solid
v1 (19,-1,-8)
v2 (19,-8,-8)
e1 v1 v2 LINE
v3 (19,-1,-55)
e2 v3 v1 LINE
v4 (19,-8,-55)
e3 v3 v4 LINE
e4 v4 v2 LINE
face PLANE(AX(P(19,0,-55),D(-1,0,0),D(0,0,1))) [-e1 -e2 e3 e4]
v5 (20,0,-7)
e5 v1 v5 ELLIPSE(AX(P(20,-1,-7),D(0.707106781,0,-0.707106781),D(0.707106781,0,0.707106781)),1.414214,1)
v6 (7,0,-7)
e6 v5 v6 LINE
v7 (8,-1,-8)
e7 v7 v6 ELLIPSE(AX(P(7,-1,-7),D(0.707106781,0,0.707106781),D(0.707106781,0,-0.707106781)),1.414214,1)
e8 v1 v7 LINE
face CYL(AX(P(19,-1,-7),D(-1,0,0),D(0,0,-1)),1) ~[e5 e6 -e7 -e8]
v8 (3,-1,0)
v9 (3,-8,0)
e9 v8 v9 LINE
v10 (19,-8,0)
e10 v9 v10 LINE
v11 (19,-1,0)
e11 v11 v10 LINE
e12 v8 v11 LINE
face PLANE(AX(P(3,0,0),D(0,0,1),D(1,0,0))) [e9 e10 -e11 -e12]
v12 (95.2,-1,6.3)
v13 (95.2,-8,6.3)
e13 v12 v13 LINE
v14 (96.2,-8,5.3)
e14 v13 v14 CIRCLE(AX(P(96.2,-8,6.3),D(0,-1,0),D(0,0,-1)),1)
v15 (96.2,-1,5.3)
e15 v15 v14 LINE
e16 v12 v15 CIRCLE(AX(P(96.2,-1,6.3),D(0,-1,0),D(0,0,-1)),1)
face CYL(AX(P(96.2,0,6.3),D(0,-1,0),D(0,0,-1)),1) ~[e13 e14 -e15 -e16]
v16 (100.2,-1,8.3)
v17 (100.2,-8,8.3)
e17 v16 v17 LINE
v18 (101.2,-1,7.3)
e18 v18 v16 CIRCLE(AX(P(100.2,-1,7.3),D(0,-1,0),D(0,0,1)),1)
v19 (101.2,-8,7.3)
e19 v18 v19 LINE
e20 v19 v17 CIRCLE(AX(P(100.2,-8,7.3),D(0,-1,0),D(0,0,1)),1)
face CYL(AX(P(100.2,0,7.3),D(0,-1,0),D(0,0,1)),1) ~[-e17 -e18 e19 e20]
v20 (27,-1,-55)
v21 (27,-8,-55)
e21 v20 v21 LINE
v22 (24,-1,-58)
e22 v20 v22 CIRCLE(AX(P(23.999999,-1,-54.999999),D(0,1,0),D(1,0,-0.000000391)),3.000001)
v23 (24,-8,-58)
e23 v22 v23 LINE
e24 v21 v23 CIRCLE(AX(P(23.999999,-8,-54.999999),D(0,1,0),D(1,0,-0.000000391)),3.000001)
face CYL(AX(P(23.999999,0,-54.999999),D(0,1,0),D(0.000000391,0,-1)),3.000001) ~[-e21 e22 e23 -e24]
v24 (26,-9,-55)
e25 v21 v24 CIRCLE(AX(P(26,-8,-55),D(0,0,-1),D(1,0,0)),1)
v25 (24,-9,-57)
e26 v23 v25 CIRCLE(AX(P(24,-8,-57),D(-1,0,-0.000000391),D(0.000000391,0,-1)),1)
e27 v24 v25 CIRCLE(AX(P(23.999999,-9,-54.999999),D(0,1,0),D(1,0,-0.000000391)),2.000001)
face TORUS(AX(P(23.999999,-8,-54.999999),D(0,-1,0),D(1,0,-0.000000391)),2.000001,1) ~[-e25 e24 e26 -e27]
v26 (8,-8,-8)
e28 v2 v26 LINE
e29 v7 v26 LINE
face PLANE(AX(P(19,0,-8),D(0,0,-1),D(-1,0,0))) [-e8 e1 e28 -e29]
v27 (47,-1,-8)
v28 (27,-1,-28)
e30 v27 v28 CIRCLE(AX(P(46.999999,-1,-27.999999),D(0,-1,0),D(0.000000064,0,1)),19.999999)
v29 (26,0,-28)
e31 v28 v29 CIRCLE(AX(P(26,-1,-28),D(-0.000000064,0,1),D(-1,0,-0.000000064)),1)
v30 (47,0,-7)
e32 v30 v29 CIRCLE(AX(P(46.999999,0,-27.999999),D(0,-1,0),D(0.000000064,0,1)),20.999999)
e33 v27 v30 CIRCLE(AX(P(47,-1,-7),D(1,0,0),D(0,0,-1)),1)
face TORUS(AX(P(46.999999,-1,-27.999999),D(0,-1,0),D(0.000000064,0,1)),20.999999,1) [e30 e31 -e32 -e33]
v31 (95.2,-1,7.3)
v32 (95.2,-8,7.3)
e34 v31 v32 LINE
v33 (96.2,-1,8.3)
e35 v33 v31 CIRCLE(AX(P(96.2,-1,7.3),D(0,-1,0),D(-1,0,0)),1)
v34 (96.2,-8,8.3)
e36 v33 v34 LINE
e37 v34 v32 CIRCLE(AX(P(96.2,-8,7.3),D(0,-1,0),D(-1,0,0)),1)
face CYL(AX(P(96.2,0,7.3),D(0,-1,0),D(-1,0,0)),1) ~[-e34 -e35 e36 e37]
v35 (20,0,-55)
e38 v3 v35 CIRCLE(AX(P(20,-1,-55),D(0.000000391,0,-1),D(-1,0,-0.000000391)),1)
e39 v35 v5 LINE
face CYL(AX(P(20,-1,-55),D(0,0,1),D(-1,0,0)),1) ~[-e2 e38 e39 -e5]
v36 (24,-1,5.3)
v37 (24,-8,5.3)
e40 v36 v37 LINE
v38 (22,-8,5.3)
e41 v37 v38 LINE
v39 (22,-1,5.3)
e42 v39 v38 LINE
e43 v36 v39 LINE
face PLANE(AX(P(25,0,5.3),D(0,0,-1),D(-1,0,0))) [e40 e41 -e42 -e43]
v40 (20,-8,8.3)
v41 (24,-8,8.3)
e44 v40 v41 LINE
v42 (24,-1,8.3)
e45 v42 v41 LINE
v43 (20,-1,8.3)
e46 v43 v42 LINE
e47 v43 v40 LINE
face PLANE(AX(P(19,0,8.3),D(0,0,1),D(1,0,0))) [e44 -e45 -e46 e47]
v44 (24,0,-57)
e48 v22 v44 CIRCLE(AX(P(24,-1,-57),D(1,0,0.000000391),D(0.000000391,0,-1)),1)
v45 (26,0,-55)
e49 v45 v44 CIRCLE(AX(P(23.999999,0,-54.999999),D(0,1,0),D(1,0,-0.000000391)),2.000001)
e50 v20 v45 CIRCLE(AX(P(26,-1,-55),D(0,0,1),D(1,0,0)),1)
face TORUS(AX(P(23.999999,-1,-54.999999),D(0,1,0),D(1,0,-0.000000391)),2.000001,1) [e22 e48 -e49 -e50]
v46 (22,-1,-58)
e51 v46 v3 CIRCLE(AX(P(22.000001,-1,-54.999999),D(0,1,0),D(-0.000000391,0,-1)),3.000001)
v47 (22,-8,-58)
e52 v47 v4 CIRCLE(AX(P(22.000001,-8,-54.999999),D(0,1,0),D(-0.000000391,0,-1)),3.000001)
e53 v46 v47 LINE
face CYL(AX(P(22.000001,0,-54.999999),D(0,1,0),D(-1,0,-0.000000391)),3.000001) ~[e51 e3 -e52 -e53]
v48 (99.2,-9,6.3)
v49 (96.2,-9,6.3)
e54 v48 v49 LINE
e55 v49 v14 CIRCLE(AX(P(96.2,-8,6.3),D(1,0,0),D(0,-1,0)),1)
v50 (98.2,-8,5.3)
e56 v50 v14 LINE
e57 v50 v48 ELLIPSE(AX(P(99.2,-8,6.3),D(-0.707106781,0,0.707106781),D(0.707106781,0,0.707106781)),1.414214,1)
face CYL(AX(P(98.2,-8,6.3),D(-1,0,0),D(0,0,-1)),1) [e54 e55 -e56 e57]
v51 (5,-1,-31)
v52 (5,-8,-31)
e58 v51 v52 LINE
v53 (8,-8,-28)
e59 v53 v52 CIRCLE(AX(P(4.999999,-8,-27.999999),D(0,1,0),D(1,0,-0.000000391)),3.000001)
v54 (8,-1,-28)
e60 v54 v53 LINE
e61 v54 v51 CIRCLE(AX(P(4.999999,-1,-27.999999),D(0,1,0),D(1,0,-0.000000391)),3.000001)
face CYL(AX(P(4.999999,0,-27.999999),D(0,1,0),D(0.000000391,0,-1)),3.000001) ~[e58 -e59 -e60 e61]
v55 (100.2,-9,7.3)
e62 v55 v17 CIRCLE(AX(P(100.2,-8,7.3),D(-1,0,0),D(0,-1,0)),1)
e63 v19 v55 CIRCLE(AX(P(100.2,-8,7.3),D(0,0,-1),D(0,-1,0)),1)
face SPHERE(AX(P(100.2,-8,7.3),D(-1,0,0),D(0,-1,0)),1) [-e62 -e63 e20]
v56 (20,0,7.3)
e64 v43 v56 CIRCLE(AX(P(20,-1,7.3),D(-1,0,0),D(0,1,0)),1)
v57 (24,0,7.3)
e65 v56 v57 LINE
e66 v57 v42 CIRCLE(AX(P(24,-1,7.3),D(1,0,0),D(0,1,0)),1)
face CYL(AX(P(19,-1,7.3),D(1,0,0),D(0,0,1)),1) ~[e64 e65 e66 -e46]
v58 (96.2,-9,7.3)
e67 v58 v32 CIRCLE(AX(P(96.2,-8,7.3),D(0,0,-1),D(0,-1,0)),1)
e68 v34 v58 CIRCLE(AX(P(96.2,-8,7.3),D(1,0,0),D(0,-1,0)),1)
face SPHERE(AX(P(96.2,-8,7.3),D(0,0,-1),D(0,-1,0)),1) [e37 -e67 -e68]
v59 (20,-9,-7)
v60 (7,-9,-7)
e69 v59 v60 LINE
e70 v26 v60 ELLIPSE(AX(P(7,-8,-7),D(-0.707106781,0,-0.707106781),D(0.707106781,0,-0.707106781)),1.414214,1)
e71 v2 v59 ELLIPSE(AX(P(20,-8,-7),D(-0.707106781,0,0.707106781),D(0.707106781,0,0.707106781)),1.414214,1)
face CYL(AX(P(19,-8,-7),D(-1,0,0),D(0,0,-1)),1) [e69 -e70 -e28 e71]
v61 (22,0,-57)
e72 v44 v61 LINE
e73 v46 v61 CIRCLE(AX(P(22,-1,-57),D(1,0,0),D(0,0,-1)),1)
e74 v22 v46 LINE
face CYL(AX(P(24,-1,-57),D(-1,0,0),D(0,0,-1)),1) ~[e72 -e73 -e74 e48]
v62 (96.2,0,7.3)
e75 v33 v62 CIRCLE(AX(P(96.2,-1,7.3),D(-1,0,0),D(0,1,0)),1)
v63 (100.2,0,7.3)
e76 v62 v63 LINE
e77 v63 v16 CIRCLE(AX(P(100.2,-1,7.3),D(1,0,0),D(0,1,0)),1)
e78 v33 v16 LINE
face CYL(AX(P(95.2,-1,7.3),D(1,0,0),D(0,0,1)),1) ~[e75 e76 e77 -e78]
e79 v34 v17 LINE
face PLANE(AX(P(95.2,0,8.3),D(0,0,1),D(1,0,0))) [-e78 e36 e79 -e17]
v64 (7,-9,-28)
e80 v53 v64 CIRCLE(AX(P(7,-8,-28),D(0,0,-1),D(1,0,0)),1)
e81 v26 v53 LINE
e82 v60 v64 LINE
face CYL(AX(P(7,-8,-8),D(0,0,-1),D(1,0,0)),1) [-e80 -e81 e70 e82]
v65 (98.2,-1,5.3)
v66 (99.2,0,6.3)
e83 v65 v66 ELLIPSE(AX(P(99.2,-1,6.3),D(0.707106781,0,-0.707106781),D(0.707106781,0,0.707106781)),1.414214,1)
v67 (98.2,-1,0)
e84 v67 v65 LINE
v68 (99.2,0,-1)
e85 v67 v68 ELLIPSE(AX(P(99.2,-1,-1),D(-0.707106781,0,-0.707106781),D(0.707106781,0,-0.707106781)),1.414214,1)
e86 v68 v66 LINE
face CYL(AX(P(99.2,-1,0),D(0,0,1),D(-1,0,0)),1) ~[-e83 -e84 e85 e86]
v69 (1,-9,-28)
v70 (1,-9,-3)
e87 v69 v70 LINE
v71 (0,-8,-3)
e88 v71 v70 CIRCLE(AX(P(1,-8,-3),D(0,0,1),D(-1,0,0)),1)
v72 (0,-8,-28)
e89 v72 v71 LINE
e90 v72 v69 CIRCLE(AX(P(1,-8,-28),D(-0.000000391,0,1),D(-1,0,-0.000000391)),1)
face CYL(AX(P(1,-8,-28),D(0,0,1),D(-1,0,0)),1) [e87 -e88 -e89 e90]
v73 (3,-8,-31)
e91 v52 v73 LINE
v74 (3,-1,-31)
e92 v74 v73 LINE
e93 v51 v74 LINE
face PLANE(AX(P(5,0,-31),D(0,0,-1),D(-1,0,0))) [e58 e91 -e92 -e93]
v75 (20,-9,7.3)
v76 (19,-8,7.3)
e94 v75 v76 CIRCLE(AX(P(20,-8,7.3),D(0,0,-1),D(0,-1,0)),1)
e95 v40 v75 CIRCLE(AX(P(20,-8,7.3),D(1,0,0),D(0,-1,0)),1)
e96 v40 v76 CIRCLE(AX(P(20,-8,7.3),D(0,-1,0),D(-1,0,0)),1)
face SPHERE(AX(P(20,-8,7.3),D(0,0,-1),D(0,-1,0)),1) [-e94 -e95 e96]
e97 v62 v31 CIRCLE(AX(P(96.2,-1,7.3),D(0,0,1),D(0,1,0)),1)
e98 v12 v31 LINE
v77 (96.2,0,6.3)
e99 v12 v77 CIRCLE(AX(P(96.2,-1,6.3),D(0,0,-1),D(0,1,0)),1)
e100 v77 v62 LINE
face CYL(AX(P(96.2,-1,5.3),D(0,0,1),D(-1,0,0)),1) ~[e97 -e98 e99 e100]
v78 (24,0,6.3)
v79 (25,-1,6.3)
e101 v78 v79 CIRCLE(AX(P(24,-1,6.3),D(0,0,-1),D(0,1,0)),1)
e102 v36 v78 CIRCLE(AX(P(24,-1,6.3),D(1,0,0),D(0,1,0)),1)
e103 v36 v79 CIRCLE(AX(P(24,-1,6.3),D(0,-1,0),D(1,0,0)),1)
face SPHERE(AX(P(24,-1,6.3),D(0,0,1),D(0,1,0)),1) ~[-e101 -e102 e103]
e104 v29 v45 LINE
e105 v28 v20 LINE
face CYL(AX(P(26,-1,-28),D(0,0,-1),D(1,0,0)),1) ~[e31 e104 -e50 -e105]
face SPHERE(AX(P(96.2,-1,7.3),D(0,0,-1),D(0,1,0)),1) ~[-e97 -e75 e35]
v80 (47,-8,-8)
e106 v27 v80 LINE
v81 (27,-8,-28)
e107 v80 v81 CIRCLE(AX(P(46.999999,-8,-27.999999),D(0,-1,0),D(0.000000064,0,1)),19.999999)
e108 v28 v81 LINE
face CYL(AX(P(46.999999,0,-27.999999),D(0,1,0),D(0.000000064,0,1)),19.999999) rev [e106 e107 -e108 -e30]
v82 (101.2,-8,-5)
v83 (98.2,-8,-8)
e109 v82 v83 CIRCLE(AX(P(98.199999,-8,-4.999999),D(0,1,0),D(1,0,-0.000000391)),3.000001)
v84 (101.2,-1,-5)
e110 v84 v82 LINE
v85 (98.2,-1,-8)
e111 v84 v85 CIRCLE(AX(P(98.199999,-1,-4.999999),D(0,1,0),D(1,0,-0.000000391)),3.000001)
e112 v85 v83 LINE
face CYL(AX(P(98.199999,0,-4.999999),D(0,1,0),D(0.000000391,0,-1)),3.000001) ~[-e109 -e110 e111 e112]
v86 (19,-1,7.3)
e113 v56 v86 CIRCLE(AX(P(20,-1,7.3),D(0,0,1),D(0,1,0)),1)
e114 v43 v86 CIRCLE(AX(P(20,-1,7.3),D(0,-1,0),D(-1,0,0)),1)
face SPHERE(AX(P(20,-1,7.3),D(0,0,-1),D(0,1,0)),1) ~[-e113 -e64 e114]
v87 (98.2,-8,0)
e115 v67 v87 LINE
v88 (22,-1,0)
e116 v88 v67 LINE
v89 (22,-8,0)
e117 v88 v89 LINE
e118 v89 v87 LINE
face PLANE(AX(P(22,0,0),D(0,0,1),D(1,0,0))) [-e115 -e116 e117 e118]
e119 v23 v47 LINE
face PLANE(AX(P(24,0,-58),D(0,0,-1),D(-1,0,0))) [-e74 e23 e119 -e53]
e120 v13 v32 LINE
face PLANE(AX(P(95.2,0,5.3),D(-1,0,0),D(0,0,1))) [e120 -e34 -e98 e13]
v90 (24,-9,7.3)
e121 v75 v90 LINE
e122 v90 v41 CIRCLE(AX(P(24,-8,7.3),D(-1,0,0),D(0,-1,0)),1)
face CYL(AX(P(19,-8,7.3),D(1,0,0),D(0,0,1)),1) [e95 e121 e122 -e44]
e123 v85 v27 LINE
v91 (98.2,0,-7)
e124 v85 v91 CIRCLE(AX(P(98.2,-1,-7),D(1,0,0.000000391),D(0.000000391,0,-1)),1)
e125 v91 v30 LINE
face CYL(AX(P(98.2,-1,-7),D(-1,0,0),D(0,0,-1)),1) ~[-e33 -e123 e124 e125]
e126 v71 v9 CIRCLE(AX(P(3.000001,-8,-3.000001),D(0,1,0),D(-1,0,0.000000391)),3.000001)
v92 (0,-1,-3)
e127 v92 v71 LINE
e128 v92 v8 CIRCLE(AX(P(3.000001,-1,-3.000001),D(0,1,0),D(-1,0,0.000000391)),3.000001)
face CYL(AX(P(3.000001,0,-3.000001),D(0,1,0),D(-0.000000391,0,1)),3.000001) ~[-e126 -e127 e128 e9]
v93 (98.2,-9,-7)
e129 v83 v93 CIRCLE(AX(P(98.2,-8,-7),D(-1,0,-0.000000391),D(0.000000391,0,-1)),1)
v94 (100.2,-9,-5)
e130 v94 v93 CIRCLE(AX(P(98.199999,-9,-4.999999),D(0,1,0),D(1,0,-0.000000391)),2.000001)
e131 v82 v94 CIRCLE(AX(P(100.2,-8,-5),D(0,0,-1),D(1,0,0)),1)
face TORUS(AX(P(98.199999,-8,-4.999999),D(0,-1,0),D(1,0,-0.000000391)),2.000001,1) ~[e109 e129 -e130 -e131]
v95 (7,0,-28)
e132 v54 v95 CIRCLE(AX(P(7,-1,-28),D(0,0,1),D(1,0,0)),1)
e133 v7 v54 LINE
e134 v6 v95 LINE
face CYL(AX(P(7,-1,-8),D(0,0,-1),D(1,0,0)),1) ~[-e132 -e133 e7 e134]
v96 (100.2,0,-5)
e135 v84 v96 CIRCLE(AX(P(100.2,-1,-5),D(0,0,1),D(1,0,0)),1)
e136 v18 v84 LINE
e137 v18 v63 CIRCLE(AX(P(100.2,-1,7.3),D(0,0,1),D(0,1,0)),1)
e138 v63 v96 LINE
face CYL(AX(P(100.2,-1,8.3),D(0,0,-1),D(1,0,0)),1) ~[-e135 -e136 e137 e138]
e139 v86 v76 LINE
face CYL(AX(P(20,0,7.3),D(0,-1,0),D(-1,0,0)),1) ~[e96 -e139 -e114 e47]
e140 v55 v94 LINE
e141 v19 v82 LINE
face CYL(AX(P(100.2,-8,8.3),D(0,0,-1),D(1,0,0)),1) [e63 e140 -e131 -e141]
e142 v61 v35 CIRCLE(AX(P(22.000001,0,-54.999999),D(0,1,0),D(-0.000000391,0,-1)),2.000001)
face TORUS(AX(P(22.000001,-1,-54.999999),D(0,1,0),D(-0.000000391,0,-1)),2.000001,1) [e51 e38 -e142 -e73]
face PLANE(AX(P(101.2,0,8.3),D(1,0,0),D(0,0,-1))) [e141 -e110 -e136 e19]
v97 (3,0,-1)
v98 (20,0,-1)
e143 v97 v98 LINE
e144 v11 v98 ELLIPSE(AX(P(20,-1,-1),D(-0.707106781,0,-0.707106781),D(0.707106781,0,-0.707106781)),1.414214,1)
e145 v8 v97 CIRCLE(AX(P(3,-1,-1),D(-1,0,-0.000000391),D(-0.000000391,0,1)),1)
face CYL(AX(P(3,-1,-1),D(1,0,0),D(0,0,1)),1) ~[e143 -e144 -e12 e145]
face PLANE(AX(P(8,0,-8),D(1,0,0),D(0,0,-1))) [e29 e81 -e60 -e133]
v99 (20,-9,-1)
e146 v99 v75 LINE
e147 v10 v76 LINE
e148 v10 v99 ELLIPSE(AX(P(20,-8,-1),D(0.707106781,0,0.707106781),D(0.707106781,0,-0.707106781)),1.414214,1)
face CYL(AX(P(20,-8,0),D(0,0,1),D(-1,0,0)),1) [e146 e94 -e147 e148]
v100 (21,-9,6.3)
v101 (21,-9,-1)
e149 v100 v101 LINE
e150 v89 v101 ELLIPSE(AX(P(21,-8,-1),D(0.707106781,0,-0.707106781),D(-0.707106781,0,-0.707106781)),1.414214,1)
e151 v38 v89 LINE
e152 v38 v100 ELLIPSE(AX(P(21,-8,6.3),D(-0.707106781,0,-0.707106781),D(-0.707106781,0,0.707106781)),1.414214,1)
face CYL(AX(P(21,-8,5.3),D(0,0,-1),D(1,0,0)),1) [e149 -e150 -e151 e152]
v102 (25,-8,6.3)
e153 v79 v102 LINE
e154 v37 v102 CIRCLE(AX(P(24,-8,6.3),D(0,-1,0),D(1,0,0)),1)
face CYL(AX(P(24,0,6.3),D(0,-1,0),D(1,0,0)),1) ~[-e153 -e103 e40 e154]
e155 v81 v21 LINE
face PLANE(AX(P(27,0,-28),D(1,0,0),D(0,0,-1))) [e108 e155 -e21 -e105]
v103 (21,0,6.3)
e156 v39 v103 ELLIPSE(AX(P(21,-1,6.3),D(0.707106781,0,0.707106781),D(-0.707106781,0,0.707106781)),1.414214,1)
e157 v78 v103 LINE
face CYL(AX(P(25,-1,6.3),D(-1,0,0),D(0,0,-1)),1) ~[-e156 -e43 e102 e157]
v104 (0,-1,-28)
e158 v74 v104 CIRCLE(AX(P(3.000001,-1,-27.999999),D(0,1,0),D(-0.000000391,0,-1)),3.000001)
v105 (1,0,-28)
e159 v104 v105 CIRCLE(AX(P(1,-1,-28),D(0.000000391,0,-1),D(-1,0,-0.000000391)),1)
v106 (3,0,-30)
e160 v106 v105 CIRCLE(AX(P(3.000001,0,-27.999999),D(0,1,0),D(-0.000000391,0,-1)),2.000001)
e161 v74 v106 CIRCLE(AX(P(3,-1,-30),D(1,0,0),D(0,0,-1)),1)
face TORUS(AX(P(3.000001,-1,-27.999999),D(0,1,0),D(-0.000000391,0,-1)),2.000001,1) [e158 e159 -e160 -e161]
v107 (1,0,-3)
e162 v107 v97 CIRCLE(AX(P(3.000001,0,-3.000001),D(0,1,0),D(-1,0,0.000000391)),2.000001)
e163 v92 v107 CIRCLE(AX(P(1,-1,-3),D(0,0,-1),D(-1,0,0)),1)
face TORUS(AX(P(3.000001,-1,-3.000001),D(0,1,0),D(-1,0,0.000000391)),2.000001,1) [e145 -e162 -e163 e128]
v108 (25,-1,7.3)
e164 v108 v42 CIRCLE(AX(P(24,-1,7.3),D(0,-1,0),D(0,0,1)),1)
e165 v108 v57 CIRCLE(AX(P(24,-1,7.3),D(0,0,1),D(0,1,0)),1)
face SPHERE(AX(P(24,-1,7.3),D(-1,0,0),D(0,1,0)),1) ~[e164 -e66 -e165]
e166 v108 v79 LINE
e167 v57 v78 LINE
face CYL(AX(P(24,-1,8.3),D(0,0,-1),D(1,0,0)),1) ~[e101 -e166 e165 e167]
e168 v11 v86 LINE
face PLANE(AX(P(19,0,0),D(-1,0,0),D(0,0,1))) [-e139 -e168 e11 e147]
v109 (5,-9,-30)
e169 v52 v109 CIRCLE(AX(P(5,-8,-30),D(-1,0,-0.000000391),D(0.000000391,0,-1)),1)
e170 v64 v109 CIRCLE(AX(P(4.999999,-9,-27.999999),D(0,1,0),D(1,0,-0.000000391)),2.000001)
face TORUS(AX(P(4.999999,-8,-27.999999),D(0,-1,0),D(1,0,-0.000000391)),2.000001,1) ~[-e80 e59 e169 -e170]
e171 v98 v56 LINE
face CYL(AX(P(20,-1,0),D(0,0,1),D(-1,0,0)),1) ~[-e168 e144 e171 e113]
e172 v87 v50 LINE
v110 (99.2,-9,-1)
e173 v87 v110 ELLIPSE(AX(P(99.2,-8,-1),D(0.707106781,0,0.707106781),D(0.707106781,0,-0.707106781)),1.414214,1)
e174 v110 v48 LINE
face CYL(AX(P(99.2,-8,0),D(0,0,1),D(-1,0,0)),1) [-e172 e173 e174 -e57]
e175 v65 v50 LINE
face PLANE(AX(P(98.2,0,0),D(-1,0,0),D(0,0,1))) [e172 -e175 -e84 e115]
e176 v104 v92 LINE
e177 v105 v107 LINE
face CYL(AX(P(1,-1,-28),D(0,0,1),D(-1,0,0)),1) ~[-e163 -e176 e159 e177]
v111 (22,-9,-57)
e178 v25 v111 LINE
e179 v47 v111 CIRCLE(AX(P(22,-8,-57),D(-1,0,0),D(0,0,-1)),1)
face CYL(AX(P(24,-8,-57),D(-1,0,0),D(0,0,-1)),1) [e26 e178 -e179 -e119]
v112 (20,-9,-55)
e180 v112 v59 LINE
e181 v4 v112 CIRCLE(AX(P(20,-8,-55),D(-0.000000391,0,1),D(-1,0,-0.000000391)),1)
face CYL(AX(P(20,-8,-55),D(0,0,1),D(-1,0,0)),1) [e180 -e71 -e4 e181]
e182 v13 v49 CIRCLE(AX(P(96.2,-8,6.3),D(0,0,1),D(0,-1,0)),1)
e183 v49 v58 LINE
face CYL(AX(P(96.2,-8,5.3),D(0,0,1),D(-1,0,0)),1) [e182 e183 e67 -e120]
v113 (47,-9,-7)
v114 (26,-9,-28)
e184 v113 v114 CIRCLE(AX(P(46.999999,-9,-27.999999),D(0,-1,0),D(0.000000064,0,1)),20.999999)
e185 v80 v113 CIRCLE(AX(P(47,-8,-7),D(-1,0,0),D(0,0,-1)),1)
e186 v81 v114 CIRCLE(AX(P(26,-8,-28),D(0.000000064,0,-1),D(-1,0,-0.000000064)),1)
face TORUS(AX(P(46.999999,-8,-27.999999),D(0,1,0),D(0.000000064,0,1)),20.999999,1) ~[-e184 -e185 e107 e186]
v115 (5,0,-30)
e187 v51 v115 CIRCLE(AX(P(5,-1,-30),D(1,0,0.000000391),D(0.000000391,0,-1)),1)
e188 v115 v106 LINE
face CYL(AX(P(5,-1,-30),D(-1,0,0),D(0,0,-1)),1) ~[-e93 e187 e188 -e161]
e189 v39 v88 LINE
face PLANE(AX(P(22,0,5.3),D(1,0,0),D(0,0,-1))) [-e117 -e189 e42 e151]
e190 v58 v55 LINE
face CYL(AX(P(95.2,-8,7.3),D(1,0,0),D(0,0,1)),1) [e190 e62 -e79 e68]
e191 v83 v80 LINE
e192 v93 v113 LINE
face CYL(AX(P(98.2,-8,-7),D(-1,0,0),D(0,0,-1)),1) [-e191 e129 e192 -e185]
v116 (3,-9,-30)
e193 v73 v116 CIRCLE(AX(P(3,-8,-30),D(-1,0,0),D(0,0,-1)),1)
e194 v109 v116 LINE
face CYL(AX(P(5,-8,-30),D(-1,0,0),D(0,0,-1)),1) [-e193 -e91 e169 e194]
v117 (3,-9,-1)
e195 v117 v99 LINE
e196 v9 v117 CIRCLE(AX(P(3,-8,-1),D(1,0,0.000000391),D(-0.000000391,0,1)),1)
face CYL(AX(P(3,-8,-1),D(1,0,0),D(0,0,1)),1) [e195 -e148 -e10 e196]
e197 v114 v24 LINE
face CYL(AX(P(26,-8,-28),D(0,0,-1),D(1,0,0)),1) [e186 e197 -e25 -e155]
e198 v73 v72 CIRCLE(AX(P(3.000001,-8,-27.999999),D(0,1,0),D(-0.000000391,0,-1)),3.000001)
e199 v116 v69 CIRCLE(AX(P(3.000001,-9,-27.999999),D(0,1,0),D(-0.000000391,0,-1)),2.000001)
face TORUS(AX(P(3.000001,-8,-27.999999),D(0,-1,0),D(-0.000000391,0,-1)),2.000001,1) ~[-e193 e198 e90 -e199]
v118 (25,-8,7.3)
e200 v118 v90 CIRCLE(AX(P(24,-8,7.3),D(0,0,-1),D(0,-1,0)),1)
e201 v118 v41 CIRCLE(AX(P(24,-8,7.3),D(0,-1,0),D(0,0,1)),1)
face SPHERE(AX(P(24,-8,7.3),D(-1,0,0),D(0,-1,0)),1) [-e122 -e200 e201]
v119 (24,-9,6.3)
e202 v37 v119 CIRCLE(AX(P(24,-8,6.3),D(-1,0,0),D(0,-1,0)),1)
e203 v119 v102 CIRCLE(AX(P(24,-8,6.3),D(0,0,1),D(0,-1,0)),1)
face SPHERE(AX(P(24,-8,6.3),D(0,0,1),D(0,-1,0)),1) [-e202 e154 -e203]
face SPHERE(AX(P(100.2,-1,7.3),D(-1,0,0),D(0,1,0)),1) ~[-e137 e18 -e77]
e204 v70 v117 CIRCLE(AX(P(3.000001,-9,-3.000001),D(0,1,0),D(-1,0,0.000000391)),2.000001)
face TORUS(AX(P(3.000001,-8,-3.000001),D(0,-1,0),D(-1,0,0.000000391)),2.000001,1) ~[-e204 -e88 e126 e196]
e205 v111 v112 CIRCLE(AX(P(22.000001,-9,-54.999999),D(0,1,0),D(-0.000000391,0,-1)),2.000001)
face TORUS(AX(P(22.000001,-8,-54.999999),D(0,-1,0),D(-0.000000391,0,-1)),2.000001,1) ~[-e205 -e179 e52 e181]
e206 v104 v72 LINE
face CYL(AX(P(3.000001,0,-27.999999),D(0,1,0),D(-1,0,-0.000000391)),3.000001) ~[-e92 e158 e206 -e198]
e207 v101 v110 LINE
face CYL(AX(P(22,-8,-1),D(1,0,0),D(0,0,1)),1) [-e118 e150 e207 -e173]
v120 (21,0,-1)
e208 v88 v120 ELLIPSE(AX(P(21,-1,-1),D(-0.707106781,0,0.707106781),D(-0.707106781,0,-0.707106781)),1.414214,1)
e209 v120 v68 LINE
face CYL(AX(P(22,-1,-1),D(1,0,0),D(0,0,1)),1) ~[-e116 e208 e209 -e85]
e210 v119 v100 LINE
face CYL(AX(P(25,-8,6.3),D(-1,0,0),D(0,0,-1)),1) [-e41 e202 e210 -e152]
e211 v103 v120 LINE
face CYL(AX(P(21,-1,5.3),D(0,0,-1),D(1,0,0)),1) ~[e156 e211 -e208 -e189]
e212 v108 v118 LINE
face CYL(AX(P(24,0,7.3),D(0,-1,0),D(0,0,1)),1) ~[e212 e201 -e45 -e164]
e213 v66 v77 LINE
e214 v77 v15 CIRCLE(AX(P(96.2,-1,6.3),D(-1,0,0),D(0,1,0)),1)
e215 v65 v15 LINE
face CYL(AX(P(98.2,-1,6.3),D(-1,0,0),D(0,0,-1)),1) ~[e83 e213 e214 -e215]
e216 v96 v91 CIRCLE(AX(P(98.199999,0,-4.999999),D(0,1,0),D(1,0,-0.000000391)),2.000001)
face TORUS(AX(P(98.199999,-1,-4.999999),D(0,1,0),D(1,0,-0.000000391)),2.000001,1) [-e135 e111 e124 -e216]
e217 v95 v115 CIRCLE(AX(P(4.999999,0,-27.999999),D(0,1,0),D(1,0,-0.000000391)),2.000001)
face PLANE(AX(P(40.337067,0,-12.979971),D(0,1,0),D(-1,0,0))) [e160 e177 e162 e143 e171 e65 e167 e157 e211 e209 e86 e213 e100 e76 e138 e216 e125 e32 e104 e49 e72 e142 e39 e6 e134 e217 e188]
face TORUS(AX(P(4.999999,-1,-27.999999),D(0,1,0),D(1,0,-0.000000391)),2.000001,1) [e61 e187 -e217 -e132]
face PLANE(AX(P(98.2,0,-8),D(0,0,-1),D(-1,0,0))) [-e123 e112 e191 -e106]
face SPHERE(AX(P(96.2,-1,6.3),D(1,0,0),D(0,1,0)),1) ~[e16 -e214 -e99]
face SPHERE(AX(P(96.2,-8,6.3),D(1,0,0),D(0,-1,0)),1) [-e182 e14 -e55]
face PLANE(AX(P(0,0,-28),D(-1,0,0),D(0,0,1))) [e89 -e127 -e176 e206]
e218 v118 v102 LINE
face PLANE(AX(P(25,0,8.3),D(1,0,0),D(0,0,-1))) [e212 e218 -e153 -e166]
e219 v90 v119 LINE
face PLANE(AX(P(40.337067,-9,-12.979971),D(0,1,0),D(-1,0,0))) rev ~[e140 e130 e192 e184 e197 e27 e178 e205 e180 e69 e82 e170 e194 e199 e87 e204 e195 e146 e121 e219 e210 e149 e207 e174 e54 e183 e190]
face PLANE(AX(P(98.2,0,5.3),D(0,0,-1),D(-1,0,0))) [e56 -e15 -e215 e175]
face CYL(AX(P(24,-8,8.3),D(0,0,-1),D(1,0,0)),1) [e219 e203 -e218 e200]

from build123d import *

# Parameters (mm, degrees)
PAD_DEPTH = 9
FILLET_R  = 1


with BuildPart() as part:
    # Sketch → Pad (new body)
    with BuildSketch(Plane.XZ):
        with BuildLine():
            Line((0, -28), (0, -3))
            ThreePointArc((3, 0), (0.87868, -0.87868), (0, -3))
            Line((3, 0), (19, 0))
            Line((19, 0), (19, 8.3))
            Line((19, 8.3), (25, 8.3))
            Line((25, 8.3), (25, 5.3))
            Line((25, 5.3), (22, 5.3))
            Line((22, 5.3), (22, 0))
            Line((22, 0), (98.2, 0))
            Line((98.2, 0), (98.2, 5.3))
            Line((98.2, 5.3), (95.2, 5.3))
            Line((95.2, 5.3), (95.2, 8.3))
            Line((95.2, 8.3), (101.2, 8.3))
            Line((101.2, 8.3), (101.2, -5))
            ThreePointArc((98.2, -8), (100.32132, -7.12132), (101.2, -5))
            Line((98.2, -8), (47, -8))
            ThreePointArc((47, -8), (32.857864, -13.857864), (27, -28))
            Line((27, -28), (27, -55))
            ThreePointArc((24, -58), (26.12132, -57.12132), (27, -55))
            Line((24, -58), (22, -58))
            ThreePointArc((19, -55), (19.87868, -57.12132), (22, -58))
            Line((19, -55), (19, -8))
            Line((19, -8), (8, -8))
            Line((8, -8), (8, -28))
            ThreePointArc((5, -31), (7.12132, -30.12132), (8, -28))
            Line((5, -31), (3, -31))
            ThreePointArc((0, -28), (0.87868, -30.12132), (3, -31))
        make_face()
    extrude(amount=PAD_DEPTH)

    # Fillet
    fillet_edges = [part.edges().sort_by_distance(p)[0] for p in [
        (4, -9, -31),
        (0.87868, -9, -30.12132),
        (0, -9, -15.5),
        (0.87868, -9, -0.87868),
        (11, -9, 0),
        (19, -9, 4.15),
        (22, -9, 8.3),
        (25, -9, 6.8),
        (23.5, -9, 5.3),
        (22, -9, 2.65),
        (60.1, -9, 0),
        (98.2, -9, 2.65),
        (96.7, -9, 5.3),
        (95.2, -9, 6.8),
        (98.2, -9, 8.3),
        (101.2, -9, 1.65),
        (100.32132, -9, -7.12132),
        (72.6, -9, -8),
        (32.857864, -9, -13.857864),
        (27, -9, -41.5),
        (26.12132, -9, -57.12132),
        (23, -9, -58),
        (19.87868, -9, -57.12132),
        (19, -9, -31.5),
        (13.5, -9, -8),
        (8, -9, -18),
        (7.12132, -9, -30.12132),
        (4, 0, -31),
        (0.87868, 0, -30.12132),
        (0, 0, -15.5),
        (0.87868, 0, -0.87868),
        (11, 0, 0),
        (19, 0, 4.15),
        (22, 0, 8.3),
        (25, 0, 6.8),
        (23.5, 0, 5.3),
        (22, 0, 2.65),
        (60.1, 0, 0),
        (98.2, 0, 2.65),
        (96.7, 0, 5.3),
        (95.2, 0, 6.8),
        (98.2, 0, 8.3),
        (101.2, 0, 1.65),
        (100.32132, 0, -7.12132),
        (72.6, 0, -8),
        (32.857864, 0, -13.857864),
        (27, 0, -41.5),
        (26.12132, 0, -57.12132),
        (23, 0, -58),
        (19.87868, 0, -57.12132),
        (19, 0, -31.5),
        (13.5, 0, -8),
        (8, 0, -18),
        (7.12132, 0, -30.12132),
        (25, -4.5, 8.3),
        (25, -4.5, 5.3),
        (19, -4.5, 8.3),
        (101.2, -4.5, 8.3),
        (95.2, -4.5, 8.3),
        (95.2, -4.5, 5.3),
    ]]
    fillet(fillet_edges, radius=FILLET_R)


solid = part.part
